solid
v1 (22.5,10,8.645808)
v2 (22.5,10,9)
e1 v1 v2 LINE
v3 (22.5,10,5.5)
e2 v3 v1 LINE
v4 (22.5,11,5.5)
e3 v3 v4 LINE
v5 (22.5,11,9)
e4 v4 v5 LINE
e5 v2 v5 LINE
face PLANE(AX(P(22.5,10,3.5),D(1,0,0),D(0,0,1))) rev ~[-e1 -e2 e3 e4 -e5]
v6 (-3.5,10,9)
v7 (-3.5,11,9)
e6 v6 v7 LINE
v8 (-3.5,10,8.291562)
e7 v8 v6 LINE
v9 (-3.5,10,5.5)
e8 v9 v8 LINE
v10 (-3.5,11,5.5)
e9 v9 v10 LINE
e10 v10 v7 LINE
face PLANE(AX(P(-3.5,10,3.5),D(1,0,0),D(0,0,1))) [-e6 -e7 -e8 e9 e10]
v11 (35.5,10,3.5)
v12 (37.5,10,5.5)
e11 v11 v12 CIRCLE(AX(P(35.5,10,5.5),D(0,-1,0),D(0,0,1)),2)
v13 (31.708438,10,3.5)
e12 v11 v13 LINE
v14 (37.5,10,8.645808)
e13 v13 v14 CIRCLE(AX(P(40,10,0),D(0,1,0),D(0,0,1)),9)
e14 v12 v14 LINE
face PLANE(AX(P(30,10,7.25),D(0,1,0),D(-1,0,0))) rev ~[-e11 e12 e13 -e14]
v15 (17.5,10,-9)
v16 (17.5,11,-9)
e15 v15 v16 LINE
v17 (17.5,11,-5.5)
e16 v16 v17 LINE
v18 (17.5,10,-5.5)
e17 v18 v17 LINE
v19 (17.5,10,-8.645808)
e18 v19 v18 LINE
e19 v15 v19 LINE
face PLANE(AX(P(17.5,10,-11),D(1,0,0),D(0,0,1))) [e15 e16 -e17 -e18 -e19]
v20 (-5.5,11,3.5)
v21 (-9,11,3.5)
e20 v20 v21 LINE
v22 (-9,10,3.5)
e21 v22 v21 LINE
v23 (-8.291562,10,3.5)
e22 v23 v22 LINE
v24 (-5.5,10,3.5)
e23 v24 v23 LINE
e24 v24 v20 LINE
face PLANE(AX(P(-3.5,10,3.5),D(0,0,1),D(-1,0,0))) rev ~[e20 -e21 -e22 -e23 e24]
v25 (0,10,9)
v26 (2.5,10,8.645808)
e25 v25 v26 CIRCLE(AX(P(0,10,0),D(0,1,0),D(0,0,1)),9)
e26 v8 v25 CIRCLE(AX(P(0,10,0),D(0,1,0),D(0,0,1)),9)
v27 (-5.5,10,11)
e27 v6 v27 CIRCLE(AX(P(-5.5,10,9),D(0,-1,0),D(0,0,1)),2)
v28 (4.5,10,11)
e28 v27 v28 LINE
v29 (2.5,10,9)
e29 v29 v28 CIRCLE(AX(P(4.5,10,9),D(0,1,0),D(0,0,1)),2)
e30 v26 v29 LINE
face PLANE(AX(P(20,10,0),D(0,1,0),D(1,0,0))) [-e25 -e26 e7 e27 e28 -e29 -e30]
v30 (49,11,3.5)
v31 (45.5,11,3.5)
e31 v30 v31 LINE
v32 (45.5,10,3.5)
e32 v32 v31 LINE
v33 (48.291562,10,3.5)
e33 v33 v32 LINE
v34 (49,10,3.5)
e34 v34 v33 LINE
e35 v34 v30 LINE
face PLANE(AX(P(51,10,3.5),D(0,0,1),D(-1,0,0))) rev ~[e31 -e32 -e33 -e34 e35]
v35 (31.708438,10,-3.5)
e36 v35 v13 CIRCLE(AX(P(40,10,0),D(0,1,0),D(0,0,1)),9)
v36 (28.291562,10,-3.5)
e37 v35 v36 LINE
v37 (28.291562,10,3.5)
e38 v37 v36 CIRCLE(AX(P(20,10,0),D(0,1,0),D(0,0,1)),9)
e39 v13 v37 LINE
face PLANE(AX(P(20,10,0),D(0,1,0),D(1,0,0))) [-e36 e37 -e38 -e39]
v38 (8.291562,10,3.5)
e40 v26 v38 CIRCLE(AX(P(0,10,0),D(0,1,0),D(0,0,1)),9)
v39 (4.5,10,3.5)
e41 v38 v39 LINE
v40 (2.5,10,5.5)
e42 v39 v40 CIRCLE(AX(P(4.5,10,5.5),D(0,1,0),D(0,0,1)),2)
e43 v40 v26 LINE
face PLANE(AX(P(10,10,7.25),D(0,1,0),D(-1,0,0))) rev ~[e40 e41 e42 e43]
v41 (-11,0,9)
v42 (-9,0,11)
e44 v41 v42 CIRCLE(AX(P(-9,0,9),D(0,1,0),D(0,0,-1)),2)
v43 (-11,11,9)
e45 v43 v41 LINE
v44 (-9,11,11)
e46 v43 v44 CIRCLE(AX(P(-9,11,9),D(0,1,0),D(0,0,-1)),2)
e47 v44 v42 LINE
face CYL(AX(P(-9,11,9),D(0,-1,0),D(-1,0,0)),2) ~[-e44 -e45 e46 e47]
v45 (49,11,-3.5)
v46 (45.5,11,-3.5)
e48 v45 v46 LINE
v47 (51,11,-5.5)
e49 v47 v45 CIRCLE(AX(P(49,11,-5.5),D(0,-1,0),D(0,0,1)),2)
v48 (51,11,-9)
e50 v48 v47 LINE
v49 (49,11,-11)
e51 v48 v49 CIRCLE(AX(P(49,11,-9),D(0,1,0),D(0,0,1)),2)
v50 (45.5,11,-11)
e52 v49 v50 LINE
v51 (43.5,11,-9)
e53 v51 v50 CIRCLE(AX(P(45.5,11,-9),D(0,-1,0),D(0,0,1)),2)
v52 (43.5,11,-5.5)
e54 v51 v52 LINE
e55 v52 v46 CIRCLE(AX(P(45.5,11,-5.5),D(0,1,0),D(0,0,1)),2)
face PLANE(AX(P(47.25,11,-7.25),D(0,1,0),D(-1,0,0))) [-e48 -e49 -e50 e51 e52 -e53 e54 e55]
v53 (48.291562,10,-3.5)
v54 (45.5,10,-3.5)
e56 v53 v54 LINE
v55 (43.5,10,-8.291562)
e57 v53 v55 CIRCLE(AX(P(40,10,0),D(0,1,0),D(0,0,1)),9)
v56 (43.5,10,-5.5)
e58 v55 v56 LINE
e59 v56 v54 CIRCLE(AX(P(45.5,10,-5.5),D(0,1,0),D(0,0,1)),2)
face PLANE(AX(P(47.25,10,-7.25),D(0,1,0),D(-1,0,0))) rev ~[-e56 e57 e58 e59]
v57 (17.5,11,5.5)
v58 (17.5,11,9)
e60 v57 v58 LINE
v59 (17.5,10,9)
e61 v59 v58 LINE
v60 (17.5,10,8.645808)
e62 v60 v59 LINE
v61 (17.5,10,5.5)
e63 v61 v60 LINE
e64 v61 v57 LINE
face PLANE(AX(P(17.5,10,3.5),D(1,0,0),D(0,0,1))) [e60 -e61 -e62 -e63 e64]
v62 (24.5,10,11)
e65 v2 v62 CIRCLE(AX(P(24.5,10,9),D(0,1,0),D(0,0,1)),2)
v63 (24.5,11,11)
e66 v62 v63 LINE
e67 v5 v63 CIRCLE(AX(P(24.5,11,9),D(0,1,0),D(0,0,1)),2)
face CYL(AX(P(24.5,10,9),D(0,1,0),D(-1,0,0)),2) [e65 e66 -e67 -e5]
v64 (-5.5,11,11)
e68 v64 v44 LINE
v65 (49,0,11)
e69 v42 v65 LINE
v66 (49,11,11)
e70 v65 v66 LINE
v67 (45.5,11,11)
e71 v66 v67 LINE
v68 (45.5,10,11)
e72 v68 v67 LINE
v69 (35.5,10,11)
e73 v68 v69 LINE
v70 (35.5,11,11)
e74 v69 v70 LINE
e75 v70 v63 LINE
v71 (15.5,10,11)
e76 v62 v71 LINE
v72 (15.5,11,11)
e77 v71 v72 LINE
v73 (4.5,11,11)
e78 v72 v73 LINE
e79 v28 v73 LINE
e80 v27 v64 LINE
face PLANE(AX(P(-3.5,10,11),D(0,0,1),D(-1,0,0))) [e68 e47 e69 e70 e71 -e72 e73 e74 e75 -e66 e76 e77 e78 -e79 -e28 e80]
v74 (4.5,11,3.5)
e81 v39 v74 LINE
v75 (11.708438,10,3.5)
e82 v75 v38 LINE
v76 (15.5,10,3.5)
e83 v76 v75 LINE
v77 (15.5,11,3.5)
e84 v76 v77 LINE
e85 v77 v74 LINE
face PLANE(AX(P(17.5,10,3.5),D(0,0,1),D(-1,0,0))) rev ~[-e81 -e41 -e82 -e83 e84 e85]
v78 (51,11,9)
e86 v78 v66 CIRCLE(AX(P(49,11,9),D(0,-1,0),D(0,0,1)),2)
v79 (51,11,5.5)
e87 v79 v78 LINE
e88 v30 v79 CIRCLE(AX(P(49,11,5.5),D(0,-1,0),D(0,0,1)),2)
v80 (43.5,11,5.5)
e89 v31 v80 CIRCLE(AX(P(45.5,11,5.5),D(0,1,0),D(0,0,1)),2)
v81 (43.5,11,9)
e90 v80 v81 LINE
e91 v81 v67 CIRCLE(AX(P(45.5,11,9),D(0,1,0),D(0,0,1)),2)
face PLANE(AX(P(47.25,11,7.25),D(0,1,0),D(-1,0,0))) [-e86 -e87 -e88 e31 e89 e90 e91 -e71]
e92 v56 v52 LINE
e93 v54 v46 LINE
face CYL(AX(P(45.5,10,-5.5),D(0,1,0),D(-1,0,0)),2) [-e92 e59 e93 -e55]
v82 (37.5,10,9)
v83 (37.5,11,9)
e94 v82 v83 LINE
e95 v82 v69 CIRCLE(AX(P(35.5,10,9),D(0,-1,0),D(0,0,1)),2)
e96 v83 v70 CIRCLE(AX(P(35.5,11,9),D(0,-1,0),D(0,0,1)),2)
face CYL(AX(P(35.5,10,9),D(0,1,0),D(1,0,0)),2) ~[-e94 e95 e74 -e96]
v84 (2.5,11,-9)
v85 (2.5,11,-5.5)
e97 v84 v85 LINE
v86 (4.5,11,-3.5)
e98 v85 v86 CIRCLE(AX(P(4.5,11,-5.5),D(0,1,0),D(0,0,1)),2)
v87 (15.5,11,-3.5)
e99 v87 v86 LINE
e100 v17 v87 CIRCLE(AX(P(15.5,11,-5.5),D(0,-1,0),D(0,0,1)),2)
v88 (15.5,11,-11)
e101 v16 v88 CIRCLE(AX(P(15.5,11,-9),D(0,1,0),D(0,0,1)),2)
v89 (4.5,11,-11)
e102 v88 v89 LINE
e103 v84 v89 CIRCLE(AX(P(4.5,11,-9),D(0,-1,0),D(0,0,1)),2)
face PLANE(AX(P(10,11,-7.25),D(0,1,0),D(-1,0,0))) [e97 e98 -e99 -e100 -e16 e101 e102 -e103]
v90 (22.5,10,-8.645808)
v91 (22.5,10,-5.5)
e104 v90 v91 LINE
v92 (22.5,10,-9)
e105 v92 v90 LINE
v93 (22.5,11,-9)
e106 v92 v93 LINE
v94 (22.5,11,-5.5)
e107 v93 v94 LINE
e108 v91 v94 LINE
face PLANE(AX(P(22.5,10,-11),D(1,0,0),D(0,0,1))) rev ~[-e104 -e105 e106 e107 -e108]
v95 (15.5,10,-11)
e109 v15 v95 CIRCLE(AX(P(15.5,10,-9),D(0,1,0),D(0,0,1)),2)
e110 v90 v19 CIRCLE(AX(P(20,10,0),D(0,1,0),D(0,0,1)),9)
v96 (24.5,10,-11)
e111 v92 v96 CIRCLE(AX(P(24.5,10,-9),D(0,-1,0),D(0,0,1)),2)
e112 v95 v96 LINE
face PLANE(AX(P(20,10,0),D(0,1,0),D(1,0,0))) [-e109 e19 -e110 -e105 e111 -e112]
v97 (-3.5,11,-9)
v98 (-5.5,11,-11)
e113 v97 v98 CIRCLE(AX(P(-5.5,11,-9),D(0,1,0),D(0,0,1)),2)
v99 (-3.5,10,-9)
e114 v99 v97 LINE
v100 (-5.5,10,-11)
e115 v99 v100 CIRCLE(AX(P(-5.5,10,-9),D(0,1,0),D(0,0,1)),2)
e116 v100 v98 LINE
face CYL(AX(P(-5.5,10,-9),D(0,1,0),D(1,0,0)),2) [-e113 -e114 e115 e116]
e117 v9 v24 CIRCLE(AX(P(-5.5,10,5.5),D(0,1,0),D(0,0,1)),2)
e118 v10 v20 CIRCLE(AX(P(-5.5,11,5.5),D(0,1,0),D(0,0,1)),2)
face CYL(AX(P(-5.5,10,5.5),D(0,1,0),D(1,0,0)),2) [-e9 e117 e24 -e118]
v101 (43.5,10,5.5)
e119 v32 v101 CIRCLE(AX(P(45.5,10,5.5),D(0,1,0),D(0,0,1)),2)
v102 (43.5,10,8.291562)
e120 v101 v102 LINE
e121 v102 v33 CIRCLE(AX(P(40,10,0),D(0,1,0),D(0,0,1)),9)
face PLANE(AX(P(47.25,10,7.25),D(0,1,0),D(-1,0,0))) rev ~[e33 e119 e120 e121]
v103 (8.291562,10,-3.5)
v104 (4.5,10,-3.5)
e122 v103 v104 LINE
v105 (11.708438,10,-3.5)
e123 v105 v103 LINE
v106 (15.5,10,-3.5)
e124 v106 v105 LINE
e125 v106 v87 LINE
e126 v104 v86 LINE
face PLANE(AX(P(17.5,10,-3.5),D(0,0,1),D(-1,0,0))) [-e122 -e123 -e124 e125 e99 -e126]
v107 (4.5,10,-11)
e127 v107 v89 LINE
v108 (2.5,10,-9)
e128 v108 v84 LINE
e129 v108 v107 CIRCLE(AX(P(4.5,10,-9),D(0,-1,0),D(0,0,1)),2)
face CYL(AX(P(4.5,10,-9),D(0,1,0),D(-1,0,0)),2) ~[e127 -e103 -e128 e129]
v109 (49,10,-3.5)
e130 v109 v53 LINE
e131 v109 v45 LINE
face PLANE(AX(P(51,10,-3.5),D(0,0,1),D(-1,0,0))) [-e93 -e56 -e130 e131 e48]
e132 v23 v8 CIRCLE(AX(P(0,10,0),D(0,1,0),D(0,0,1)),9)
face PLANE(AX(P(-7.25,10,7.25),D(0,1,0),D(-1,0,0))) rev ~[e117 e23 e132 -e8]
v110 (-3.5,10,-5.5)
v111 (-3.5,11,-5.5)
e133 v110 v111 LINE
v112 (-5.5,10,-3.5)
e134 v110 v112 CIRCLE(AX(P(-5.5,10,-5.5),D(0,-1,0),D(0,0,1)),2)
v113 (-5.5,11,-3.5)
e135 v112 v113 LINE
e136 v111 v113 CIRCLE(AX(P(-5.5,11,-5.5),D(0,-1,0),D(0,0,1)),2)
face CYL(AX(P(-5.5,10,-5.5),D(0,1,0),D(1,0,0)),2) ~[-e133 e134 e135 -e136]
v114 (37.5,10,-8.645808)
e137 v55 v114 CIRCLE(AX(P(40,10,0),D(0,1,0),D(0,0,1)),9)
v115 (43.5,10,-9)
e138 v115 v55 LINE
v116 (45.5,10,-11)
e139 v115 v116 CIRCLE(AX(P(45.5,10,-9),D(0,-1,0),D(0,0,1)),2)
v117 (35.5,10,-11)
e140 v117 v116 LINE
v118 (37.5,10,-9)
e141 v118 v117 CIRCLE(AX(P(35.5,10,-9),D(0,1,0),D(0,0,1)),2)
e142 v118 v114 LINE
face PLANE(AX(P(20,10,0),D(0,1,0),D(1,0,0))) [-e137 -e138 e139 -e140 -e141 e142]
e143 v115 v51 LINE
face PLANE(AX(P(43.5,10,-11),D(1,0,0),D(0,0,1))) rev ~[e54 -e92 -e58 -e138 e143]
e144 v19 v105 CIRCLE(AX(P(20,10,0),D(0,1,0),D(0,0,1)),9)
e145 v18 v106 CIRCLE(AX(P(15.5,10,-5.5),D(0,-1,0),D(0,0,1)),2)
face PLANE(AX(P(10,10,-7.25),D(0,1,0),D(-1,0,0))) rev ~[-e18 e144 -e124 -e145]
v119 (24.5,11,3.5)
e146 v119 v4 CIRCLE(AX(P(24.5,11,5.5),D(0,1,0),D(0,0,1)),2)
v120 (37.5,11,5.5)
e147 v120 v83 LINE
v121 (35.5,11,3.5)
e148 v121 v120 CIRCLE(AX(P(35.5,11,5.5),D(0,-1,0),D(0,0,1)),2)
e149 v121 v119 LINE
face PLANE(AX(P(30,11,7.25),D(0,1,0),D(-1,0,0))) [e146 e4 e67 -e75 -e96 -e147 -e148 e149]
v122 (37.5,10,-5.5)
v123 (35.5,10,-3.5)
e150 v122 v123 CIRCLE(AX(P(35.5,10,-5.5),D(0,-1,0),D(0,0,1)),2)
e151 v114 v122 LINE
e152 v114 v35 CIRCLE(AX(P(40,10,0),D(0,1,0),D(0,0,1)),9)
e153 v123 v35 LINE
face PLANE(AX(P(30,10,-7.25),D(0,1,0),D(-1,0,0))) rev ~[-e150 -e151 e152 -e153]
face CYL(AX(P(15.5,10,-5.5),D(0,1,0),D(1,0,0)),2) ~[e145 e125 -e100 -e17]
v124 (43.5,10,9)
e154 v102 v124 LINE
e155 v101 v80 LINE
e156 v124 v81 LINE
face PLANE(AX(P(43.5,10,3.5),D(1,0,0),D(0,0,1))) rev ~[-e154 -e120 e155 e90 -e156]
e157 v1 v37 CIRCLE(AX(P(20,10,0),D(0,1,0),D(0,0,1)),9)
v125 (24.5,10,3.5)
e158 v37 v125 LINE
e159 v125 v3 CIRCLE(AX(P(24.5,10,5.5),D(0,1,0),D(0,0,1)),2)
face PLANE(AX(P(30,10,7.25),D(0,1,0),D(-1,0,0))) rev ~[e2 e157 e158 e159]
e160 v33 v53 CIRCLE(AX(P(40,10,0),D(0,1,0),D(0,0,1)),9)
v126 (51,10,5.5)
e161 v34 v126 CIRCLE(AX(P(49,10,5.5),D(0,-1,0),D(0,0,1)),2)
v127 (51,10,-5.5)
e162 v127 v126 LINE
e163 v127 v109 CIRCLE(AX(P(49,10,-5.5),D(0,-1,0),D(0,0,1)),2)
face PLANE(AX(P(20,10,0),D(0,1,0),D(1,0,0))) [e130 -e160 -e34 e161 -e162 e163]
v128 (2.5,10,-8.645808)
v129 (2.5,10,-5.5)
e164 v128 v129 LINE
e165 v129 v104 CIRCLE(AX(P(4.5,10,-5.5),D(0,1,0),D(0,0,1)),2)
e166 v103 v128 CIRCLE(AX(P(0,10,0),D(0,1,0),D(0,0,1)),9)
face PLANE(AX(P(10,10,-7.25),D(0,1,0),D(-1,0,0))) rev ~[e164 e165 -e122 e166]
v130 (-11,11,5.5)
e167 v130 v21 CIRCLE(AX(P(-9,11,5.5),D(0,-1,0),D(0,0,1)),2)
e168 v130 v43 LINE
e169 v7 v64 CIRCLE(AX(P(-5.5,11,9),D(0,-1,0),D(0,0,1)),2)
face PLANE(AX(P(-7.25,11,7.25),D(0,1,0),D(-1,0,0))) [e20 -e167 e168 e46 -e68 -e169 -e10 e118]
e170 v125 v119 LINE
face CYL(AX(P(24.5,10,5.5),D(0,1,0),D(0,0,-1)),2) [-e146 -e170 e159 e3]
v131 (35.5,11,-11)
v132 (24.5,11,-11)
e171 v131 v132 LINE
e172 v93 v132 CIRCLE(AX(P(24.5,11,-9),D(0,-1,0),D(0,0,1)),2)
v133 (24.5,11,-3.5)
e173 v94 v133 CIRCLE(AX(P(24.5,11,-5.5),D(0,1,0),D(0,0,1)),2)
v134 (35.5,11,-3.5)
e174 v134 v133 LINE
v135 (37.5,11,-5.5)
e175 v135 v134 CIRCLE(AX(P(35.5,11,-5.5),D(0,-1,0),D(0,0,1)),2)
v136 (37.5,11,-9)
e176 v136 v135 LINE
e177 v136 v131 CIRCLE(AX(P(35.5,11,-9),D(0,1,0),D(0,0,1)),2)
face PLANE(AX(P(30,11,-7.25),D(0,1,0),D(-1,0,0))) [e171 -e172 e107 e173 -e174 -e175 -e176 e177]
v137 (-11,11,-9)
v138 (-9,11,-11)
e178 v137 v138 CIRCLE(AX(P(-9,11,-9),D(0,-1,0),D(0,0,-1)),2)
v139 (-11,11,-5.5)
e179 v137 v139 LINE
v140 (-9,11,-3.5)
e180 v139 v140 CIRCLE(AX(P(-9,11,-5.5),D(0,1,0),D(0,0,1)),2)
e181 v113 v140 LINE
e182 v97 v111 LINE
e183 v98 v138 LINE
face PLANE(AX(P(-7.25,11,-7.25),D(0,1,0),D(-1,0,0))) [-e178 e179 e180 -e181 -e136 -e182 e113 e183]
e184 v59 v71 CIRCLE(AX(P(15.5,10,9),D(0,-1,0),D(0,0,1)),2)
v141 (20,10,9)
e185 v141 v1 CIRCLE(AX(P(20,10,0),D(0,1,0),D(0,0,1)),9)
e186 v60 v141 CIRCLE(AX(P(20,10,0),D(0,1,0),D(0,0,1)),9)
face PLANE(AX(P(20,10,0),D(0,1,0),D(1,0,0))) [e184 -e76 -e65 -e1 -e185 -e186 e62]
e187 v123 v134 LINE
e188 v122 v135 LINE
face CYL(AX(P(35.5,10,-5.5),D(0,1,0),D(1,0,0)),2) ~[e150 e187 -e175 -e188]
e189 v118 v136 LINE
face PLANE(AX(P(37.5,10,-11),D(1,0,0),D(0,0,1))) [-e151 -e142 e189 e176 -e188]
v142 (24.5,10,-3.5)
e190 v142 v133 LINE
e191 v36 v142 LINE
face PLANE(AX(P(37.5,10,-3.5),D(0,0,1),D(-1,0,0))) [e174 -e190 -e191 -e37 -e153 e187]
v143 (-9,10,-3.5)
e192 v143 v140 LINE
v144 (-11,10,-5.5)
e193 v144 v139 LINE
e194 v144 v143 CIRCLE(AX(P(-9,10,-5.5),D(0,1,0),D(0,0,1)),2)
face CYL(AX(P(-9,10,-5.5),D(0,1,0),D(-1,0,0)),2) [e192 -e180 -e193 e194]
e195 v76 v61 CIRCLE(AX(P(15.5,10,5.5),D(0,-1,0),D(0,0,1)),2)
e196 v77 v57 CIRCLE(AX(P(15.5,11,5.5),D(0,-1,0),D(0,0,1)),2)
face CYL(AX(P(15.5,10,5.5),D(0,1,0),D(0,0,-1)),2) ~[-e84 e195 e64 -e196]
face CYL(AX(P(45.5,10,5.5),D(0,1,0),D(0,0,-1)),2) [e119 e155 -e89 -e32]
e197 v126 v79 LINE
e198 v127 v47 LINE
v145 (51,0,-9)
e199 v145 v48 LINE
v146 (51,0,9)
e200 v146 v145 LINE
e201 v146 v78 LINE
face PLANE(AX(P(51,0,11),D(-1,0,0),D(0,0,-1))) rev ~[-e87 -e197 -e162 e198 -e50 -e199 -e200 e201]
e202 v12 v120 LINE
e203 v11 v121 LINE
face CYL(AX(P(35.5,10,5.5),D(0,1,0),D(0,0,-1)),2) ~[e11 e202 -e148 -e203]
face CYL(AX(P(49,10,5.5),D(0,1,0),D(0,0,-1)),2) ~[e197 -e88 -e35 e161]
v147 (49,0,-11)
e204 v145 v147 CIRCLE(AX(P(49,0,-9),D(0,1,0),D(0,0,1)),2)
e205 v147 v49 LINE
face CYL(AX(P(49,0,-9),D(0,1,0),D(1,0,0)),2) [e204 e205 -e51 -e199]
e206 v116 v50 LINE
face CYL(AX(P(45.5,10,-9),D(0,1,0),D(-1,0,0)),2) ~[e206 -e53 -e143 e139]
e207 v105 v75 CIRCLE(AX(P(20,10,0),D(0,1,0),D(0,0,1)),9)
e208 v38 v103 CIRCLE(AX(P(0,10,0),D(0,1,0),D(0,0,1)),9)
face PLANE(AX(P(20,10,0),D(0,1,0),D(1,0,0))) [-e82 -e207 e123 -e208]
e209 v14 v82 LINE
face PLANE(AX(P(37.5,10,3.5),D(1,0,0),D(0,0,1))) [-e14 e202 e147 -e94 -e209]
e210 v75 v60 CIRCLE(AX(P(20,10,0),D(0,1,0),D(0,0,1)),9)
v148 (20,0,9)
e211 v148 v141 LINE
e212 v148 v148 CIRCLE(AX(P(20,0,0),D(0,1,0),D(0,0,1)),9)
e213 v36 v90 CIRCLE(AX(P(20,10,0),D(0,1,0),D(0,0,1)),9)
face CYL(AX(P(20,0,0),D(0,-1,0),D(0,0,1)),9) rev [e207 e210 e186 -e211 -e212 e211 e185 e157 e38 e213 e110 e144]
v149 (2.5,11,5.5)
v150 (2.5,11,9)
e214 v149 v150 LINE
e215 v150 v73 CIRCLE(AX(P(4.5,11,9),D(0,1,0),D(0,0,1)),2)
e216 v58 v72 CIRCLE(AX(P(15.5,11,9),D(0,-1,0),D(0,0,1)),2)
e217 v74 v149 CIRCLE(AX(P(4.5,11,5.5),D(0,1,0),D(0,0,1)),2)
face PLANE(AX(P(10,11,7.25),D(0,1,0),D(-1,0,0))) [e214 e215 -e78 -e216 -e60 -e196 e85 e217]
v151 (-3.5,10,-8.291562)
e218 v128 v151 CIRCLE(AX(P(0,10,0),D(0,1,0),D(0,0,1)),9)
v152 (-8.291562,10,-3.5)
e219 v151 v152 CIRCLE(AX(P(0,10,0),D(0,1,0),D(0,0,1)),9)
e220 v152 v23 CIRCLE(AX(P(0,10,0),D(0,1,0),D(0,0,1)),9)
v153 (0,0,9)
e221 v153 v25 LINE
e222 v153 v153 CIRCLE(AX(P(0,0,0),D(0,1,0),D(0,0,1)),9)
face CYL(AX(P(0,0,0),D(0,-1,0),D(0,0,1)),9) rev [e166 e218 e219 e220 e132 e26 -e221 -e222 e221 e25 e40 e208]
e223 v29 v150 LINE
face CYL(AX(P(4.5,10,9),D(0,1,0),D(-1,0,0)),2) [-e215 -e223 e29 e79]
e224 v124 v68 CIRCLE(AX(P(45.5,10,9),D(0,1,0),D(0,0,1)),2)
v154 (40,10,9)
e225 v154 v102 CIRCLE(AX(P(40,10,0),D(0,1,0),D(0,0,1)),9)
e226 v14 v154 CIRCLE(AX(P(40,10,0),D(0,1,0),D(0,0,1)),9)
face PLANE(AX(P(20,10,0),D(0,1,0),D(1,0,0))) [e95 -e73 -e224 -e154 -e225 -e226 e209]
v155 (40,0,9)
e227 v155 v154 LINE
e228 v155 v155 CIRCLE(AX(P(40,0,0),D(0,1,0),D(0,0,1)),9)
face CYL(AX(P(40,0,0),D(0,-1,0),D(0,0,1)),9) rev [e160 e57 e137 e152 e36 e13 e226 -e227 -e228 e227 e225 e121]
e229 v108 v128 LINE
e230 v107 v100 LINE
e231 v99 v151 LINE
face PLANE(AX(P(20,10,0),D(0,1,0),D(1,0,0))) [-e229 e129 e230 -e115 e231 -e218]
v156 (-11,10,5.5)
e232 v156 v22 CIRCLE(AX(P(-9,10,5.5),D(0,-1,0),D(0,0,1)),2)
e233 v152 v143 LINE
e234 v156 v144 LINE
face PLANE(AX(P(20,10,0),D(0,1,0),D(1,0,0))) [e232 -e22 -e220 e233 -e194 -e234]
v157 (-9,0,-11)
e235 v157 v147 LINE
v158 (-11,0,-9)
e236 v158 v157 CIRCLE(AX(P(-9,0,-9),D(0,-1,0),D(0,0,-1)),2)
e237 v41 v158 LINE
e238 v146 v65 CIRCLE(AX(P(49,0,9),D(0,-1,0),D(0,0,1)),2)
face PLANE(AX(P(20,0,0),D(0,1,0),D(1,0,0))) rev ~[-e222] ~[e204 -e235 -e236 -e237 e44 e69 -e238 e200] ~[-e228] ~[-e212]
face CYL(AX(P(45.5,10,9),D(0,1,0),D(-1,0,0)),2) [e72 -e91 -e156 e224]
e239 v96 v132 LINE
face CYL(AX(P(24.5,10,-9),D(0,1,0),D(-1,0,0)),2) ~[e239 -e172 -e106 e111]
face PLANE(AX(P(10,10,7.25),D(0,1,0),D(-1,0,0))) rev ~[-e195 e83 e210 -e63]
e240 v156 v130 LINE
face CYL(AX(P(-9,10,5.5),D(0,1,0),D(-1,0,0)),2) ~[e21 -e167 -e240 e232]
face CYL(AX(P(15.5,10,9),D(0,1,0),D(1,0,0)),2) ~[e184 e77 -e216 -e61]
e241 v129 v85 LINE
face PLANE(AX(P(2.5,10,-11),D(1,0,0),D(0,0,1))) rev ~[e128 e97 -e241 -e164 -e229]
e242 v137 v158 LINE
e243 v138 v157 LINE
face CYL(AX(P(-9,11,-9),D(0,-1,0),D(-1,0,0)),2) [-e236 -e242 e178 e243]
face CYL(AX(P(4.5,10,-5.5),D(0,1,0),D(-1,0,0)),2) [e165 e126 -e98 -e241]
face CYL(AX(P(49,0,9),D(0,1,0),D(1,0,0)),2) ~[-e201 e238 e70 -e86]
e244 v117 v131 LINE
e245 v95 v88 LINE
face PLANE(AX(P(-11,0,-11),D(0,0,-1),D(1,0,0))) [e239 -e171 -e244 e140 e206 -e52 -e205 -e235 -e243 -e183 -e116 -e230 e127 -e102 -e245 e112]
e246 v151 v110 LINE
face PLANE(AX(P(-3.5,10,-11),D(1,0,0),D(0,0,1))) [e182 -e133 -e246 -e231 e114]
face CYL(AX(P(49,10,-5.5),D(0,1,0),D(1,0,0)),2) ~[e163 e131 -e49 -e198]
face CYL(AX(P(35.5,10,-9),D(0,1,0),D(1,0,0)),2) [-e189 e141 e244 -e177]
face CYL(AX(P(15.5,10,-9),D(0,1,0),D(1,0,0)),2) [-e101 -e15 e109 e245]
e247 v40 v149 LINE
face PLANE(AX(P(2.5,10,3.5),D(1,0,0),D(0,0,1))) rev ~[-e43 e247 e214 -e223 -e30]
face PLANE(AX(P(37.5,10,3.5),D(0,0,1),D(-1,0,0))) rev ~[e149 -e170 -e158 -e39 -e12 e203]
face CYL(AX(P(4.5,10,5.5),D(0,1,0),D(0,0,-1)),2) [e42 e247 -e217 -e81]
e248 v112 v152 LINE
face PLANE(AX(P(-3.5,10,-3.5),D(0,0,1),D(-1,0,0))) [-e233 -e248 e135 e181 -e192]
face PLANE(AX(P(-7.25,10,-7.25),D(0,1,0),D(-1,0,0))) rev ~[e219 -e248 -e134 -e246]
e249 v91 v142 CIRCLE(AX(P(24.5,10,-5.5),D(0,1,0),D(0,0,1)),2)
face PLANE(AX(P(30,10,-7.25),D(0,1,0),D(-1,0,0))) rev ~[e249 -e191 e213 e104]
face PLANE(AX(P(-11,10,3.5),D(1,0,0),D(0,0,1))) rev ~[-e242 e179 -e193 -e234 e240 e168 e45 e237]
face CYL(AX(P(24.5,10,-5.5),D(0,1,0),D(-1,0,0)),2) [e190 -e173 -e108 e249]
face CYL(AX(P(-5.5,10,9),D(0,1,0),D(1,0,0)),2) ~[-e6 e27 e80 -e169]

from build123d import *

# Parameters (mm, degrees)
SKETCH1_W           = 62
SKETCH1_H           = 22
SKETCH1_R           = 9
BOSS_EXTRUDE3_DEPTH = 10
BOSS_EXTRUDE4_START = 10
SKETCH3_W           = 7.5
SKETCH3_H           = 7.5
SKETCH3_W_2         = 15
BOSS_EXTRUDE4_DEPTH = 1
FILLET3_R           = 2


with BuildPart() as part:
    # Sketch1 → Boss-Extrude3 (new body)
    with BuildSketch(Plane(origin=(0, 0, 0), x_dir=(1, 0, 0), z_dir=(0, 1, 0))):
        with Locations((20, 0)):
            Rectangle(SKETCH1_W, SKETCH1_H)
        with Locations(Location((0, 0, 0), (0, 0, 270))):
            Circle(SKETCH1_R, mode=Mode.SUBTRACT)
        with Locations(Location((20, 0, 0), (0, 0, 270))):
            Circle(SKETCH1_R, mode=Mode.SUBTRACT)
        with Locations(Location((40, 0, 0), (0, 0, 270))):
            Circle(SKETCH1_R, mode=Mode.SUBTRACT)
    extrude(amount=BOSS_EXTRUDE3_DEPTH)

    # Sketch3 → Boss-Extrude4 (add)
    with BuildSketch(Plane(origin=(0, 0, 0), x_dir=(-1, 0, 0), z_dir=(0, 1, 0)).offset(BOSS_EXTRUDE4_START)):
        with Locations((7.25, 7.25)):
            Rectangle(SKETCH3_W, SKETCH3_H)
        with Locations((-10, 7.25)):
            Rectangle(SKETCH3_W_2, SKETCH3_H)
        with Locations((-30, 7.25)):
            Rectangle(SKETCH3_W_2, SKETCH3_H)
        with Locations((-47.25, -7.25)):
            Rectangle(SKETCH3_W, SKETCH3_H)
        with Locations((-47.25, 7.25)):
            Rectangle(SKETCH3_W, SKETCH3_H)
        with Locations((-30, -7.25)):
            Rectangle(SKETCH3_W_2, SKETCH3_H)
        with Locations((-10, -7.25)):
            Rectangle(SKETCH3_W_2, SKETCH3_H)
        with Locations((7.25, -7.25)):
            Rectangle(SKETCH3_W, SKETCH3_H)
    extrude(amount=BOSS_EXTRUDE4_DEPTH)

    # Fillet3
    fillet3_edges = [part.edges().sort_by_distance(p)[0] for p in [
        (37.5, 10.5, -11),
        (22.5, 10.5, -11),
        (22.5, 10.5, -3.5),
        (37.5, 10.5, -3.5),
        (2.5, 10.5, -3.5),
        (17.5, 10.5, -3.5),
        (17.5, 10.5, -11),
        (2.5, 10.5, -11),
        (-11, 10.5, -3.5),
        (-3.5, 10.5, -3.5),
        (-3.5, 10.5, -11),
        (-3.5, 10.5, 11),
        (-3.5, 10.5, 3.5),
        (-11, 10.5, 3.5),
        (17.5, 10.5, 3.5),
        (2.5, 10.5, 3.5),
        (2.5, 10.5, 11),
        (17.5, 10.5, 11),
        (43.5, 10.5, 3.5),
        (43.5, 10.5, 11),
        (51, 10.5, 3.5),
        (37.5, 10.5, 3.5),
        (22.5, 10.5, 3.5),
        (22.5, 10.5, 11),
        (37.5, 10.5, 11),
        (-11, 5.5, -11),
        (51, 5.5, -11),
        (51, 5.5, 11),
        (-11, 5.5, 11),
        (43.5, 10.5, -3.5),
        (51, 10.5, -3.5),
        (43.5, 10.5, -11),
    ]]
    fillet(fillet3_edges, radius=FILLET3_R)


solid = part.part
